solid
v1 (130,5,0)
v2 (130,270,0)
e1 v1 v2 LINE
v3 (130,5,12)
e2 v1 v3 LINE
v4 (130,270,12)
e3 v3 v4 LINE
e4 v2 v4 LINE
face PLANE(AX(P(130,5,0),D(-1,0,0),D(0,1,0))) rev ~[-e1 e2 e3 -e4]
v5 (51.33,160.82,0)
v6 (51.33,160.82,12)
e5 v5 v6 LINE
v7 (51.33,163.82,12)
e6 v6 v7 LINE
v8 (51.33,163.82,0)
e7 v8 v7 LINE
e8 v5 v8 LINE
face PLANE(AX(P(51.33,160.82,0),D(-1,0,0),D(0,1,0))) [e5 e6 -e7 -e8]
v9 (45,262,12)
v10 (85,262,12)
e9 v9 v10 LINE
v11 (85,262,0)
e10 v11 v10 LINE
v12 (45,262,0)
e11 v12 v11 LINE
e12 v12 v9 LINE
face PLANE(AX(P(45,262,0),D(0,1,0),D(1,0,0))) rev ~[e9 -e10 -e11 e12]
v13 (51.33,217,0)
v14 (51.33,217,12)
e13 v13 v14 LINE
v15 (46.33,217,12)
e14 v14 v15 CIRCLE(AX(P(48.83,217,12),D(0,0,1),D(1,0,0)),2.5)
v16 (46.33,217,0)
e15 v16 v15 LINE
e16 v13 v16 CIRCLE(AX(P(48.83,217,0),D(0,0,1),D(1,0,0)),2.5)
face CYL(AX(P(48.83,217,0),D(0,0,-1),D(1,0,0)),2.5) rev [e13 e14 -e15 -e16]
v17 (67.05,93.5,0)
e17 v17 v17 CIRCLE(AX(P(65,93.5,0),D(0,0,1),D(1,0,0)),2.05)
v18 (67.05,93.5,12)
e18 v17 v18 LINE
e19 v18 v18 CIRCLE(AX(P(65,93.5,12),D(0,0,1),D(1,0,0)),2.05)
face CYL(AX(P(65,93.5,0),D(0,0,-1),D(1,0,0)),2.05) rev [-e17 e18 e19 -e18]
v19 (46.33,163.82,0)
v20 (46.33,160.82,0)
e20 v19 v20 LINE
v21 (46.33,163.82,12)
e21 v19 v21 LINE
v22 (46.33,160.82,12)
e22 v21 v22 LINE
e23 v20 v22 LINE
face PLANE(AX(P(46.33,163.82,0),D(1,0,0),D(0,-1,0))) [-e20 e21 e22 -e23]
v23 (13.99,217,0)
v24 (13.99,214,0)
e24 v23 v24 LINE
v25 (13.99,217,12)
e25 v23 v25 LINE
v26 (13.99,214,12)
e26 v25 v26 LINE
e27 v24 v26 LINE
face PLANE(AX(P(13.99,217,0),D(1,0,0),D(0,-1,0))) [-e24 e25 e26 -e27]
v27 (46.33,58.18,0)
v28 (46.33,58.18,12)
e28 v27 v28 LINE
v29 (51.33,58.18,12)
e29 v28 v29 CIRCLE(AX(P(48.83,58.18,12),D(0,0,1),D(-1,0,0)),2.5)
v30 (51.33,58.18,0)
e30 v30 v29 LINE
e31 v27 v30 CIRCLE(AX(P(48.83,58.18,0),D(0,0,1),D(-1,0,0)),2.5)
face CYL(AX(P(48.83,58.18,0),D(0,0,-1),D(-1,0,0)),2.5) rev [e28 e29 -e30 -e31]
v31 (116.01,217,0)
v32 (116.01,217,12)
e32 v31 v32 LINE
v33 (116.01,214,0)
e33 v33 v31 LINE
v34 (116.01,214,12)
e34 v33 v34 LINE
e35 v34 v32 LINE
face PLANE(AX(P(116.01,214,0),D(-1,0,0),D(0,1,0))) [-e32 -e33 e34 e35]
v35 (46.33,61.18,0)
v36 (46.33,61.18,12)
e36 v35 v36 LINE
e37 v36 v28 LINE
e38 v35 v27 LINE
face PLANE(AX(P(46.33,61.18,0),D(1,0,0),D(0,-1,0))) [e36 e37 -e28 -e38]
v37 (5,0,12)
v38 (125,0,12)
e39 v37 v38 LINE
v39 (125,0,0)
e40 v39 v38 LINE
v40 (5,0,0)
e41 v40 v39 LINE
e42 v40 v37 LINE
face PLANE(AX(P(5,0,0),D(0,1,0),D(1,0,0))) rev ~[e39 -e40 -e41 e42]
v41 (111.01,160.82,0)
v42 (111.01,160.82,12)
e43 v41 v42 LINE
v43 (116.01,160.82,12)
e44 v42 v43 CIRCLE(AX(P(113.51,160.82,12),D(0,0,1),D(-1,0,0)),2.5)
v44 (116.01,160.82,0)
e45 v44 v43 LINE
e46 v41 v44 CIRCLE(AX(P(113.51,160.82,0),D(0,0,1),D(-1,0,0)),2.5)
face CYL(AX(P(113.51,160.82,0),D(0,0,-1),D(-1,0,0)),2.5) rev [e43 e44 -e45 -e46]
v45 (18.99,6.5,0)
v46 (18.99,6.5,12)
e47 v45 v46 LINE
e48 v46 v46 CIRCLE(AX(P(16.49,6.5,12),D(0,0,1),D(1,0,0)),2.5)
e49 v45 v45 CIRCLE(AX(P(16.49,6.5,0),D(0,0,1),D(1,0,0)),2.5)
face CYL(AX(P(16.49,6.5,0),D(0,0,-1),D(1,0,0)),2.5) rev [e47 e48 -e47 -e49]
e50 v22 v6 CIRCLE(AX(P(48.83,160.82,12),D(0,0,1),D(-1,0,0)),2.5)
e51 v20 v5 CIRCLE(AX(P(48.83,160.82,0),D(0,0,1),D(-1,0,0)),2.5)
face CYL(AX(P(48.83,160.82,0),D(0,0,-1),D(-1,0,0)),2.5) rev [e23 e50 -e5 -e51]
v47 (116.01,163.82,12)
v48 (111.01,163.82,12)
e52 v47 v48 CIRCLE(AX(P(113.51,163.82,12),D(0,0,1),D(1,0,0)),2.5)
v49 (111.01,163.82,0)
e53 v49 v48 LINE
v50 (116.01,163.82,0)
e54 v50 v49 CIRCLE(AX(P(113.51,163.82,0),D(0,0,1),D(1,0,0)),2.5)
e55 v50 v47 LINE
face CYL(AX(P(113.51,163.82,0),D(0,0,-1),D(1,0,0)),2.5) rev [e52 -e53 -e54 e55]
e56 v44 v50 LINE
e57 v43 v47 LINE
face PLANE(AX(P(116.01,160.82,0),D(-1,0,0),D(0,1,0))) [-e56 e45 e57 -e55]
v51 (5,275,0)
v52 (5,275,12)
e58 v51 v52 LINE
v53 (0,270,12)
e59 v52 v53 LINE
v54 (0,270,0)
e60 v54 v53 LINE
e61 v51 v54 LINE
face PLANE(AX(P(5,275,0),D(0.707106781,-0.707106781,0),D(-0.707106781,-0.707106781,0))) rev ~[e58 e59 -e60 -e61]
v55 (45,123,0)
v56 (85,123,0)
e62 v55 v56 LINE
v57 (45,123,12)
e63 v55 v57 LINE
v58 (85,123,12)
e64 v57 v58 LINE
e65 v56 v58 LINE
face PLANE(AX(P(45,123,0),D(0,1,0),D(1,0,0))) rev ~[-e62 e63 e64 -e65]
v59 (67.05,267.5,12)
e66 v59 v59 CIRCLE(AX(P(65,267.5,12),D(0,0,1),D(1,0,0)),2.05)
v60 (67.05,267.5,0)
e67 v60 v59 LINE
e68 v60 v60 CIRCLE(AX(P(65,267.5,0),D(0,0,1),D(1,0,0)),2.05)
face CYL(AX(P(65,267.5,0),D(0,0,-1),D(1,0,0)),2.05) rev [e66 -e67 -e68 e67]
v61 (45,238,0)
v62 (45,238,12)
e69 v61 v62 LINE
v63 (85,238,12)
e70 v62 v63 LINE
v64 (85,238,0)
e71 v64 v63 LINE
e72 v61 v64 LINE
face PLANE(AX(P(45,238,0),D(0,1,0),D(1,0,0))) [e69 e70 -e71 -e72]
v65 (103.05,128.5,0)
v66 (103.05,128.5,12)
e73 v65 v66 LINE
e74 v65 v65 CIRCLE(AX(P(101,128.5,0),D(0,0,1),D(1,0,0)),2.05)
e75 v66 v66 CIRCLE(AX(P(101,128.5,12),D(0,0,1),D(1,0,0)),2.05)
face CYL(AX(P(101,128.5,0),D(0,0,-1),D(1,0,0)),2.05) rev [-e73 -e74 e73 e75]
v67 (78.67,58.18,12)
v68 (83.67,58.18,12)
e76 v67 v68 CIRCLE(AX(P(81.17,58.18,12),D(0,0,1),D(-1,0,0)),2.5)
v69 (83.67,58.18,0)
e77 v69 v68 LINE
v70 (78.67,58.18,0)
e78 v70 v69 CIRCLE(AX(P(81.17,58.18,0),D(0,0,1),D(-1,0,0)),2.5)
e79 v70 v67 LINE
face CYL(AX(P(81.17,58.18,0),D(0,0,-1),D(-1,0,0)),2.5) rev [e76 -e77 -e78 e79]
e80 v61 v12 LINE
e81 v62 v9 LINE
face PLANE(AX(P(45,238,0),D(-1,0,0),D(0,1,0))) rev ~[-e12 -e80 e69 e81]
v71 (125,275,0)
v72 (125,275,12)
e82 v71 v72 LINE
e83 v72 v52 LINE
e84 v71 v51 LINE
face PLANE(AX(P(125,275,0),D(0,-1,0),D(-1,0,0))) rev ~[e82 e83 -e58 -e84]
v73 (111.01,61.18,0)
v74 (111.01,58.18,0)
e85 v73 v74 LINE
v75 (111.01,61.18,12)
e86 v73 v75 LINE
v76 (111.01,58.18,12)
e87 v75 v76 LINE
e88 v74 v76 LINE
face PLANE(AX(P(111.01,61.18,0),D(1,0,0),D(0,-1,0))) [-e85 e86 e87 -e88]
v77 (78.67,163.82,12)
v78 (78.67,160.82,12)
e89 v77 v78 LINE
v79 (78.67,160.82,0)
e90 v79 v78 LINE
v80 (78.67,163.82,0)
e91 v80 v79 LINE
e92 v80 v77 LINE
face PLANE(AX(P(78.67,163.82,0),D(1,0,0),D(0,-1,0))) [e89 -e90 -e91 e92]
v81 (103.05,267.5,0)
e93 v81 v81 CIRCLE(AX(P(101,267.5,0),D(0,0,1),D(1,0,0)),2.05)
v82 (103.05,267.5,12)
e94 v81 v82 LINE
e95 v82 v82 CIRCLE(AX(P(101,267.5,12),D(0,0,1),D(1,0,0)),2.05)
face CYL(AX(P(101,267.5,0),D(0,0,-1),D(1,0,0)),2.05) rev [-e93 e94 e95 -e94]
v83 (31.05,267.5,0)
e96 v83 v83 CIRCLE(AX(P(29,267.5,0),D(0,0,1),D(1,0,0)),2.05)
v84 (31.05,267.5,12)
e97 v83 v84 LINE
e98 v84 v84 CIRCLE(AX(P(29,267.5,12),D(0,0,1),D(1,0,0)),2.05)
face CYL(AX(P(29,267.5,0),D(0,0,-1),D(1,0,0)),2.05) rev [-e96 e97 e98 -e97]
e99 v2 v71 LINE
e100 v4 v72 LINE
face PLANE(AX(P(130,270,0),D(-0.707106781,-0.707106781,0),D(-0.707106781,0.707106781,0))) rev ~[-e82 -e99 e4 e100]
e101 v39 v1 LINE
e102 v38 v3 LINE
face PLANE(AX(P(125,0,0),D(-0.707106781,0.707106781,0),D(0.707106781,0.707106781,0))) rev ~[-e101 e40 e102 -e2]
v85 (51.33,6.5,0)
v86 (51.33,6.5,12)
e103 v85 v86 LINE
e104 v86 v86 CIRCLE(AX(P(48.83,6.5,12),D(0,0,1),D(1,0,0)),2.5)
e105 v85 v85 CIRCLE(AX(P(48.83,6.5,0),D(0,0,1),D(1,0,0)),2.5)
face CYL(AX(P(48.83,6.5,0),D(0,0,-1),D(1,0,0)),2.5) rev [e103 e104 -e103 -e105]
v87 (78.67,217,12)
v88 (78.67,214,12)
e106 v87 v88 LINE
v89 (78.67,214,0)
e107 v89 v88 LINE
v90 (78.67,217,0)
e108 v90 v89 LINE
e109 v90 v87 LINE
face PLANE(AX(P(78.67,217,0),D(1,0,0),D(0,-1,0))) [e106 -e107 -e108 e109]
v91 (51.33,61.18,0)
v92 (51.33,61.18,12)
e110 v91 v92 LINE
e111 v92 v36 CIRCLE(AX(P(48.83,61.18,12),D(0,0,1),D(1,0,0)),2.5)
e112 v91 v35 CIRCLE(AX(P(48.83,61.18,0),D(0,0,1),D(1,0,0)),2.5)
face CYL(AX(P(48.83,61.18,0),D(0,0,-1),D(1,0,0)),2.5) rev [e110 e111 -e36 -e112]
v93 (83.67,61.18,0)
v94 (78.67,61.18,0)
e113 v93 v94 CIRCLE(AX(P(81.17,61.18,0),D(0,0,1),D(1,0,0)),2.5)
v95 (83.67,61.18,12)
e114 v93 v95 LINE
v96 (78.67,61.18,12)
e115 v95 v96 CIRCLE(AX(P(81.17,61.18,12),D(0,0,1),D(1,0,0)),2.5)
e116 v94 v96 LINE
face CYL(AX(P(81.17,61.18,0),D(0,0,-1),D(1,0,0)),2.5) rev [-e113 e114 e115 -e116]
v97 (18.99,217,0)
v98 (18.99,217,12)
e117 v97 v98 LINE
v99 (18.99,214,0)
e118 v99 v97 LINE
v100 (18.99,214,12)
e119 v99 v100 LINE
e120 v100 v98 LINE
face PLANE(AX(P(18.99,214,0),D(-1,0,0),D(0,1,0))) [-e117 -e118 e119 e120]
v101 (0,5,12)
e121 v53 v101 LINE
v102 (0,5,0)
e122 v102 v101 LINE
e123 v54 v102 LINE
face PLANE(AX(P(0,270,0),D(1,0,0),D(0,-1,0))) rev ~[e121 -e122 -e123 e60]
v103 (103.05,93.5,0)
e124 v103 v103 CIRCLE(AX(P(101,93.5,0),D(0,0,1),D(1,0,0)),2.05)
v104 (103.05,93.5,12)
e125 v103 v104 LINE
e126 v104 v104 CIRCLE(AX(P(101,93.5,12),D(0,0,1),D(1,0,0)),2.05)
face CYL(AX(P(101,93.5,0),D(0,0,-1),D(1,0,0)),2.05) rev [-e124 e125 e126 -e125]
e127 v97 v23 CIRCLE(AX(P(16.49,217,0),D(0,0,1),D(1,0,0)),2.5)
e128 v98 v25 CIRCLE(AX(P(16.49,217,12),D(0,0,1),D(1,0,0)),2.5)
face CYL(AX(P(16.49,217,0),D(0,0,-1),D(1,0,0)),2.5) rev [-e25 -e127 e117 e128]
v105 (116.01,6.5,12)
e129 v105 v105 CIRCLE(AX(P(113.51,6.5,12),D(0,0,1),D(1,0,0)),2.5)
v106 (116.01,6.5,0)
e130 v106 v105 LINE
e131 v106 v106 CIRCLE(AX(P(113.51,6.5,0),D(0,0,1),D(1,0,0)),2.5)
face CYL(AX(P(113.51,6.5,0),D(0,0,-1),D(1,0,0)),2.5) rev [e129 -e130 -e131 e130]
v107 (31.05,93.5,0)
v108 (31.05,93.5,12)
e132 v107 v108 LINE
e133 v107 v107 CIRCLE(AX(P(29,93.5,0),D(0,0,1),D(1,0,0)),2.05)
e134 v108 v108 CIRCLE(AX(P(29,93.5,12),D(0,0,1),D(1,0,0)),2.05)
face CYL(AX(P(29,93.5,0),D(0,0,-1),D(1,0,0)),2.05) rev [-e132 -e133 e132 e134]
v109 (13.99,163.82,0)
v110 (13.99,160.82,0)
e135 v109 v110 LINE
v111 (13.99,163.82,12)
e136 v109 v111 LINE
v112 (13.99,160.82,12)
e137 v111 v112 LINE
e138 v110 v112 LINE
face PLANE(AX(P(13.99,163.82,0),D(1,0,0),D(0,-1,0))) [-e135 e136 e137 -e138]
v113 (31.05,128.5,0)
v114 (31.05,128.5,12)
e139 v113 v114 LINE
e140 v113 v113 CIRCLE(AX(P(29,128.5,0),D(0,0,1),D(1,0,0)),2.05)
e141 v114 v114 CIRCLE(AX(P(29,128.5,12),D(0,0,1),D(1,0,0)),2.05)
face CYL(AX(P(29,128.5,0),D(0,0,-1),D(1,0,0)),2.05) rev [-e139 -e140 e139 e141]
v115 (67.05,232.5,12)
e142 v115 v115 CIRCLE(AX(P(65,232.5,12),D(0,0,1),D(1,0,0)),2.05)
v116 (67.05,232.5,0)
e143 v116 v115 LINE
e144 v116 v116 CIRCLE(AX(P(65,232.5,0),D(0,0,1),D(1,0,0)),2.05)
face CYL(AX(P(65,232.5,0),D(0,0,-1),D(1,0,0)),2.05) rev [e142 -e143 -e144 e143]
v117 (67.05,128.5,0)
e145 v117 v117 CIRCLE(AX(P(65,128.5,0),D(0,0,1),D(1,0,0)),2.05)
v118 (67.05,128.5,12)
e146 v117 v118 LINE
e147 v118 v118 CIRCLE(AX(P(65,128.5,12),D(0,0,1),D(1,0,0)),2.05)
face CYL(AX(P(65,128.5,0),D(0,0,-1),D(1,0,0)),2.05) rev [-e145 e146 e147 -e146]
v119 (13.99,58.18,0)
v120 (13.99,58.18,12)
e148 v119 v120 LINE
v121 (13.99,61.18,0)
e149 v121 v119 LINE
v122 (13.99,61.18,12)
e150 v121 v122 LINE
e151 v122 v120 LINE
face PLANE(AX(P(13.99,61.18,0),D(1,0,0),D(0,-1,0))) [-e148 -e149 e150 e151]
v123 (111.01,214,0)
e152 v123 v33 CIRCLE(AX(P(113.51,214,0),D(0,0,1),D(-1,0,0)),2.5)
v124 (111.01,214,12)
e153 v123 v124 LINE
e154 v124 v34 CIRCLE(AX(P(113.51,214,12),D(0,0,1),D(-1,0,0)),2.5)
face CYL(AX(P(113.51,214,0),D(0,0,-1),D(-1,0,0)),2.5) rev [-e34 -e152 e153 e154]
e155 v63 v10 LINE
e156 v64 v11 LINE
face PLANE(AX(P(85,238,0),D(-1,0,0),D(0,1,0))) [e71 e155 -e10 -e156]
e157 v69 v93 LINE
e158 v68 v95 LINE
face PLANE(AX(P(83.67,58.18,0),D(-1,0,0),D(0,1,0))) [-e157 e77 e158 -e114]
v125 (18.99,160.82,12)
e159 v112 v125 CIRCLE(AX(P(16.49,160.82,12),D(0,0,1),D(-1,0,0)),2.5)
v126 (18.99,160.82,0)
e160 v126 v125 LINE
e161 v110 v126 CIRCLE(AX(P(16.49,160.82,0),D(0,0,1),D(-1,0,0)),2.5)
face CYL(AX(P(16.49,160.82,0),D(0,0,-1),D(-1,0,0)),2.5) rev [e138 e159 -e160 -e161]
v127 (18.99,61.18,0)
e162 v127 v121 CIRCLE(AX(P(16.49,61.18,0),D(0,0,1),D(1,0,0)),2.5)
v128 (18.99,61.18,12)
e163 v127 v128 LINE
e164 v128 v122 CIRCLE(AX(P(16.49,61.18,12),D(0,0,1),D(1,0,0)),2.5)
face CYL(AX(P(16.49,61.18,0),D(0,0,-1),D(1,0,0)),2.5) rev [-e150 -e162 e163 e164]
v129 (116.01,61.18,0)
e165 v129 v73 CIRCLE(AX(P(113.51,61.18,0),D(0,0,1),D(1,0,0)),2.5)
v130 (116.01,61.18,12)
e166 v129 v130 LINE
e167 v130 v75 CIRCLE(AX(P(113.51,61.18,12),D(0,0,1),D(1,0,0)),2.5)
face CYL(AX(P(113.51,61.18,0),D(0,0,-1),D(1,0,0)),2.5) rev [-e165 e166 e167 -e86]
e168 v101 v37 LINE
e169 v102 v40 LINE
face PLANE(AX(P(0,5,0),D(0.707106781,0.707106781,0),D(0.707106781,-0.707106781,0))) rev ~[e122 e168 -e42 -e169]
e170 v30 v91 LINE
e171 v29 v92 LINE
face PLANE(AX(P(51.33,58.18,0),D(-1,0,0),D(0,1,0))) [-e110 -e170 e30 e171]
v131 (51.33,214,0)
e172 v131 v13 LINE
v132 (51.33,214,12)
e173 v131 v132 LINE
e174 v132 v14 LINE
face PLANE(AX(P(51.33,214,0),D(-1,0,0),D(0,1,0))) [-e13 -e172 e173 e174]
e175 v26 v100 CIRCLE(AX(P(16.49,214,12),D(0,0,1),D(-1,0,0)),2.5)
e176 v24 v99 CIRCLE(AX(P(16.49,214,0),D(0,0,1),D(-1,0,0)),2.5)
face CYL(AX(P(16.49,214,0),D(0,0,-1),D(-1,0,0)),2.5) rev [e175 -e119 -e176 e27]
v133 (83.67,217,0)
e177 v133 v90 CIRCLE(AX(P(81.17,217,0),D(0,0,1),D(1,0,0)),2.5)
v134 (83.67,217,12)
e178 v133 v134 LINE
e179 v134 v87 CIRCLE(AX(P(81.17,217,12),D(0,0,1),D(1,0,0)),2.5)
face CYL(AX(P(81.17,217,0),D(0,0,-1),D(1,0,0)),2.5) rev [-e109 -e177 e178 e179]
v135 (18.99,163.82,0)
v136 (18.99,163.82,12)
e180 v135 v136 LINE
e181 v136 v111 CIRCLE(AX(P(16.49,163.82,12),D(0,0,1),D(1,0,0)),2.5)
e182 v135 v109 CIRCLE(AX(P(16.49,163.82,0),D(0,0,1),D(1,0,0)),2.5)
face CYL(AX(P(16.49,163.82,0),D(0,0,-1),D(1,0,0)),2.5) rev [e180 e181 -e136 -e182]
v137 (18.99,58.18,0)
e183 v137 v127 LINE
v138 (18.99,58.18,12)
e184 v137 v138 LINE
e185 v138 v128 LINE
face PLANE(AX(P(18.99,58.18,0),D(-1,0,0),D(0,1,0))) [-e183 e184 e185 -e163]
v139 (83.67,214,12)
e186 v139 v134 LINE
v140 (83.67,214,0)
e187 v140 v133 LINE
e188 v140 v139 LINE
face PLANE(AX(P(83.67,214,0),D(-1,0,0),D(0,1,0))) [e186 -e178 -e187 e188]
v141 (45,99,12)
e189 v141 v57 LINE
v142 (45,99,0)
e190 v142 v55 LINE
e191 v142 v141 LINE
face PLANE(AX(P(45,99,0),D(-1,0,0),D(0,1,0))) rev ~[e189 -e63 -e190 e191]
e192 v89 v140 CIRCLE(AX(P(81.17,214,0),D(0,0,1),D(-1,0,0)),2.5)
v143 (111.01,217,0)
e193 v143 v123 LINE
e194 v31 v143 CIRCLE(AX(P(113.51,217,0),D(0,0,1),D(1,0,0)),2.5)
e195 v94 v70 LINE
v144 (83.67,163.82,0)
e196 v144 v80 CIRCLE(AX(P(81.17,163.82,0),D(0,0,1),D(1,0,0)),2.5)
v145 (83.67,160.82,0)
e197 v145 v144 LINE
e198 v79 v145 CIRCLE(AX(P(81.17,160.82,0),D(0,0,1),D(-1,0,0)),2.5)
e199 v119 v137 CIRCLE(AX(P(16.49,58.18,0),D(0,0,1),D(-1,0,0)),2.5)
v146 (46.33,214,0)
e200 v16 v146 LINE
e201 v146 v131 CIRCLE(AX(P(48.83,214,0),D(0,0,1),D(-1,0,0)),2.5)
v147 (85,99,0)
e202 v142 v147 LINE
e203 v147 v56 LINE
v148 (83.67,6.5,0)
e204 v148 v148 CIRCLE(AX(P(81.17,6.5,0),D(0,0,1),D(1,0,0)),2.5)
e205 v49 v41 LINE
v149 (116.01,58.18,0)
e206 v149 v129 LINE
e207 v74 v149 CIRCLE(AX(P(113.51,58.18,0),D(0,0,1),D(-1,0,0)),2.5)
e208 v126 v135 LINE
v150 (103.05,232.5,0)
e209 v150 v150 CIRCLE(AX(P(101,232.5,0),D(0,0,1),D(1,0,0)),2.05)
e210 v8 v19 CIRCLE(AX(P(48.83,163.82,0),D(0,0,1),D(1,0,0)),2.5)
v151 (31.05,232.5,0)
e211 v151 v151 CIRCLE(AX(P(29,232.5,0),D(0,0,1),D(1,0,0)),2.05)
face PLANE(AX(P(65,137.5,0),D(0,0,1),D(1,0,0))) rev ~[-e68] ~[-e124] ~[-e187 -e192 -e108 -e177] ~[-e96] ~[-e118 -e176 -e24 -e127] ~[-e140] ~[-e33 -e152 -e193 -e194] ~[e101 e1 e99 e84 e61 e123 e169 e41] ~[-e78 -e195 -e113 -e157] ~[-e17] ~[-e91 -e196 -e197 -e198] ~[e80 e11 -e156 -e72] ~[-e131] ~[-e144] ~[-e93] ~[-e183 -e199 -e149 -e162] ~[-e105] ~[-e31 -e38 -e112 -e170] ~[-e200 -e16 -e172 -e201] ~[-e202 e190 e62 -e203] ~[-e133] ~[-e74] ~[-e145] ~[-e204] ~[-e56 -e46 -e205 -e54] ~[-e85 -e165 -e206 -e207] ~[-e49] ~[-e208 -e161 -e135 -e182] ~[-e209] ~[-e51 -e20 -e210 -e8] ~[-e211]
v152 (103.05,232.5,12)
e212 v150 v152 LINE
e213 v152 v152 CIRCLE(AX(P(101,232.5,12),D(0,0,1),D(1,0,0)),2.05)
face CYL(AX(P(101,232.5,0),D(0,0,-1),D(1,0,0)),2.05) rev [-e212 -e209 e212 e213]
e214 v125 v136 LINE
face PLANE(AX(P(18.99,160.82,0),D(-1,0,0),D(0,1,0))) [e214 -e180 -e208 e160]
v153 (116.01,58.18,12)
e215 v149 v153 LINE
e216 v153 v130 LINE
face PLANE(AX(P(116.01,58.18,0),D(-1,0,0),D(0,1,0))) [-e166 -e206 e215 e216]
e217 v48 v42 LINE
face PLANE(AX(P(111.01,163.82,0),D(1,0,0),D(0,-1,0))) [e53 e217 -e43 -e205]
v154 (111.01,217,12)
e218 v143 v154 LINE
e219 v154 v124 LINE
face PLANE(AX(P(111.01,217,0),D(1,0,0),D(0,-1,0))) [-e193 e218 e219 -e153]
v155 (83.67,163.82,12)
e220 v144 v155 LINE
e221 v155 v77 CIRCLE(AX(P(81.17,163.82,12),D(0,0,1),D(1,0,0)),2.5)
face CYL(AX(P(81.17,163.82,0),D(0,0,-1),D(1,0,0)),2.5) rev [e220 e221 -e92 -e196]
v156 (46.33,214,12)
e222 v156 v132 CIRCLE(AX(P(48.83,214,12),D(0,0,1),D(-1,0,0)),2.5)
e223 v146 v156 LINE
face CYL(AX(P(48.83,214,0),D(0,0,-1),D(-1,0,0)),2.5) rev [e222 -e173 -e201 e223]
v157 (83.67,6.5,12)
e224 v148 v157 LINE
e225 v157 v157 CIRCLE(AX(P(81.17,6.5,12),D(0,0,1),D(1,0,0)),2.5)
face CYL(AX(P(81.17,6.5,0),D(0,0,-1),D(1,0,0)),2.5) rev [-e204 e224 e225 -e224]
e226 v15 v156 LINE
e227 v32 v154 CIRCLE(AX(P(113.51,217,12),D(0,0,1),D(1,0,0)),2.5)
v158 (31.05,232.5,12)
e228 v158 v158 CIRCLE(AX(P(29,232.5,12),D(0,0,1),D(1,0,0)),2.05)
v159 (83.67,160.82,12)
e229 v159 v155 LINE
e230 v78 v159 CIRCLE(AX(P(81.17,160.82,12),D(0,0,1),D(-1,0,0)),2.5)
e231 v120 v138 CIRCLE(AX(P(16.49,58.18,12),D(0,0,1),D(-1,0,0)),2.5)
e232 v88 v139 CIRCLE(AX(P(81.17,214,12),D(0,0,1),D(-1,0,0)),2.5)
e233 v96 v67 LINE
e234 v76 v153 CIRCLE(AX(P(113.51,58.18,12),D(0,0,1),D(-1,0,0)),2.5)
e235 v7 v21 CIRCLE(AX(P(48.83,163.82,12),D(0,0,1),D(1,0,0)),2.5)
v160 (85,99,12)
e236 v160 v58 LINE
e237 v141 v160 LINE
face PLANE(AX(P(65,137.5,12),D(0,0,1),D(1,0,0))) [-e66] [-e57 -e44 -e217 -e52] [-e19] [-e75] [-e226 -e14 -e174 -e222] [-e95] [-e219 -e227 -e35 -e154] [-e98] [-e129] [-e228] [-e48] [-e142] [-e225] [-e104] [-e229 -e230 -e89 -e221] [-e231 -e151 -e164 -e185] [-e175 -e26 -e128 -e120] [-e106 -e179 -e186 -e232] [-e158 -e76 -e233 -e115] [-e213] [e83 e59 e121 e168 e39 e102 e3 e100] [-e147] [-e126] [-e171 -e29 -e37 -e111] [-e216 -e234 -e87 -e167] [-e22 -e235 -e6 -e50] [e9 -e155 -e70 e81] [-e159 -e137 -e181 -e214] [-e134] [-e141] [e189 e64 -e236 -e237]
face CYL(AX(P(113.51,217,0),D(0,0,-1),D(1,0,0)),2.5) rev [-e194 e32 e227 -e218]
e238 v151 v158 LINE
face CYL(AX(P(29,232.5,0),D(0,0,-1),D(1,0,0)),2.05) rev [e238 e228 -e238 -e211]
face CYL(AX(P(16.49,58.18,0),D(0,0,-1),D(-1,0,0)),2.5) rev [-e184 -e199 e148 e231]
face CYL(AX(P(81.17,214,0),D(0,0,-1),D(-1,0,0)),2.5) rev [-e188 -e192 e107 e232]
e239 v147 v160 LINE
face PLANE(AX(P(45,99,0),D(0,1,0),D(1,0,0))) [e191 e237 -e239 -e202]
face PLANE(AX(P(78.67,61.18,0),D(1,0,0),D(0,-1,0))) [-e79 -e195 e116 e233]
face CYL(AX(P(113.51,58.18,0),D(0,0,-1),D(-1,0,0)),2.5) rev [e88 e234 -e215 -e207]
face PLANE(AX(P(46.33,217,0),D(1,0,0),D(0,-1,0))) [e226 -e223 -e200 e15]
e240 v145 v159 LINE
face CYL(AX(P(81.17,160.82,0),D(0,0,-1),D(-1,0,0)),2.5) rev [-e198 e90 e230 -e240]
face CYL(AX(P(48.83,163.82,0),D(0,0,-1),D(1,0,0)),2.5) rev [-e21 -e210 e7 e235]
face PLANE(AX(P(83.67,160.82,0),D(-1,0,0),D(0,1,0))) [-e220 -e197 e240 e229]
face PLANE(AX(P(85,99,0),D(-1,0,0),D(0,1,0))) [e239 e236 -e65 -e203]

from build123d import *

# Parameters (mm, degrees)
MODEL_R             = 2.5
MODEL_R_2           = 2.05
MODEL_W             = 40
MODEL_H             = 24
BOSS_EXTRUDE1_DEPTH = 12


with BuildPart() as part:
    # Model → Boss-Extrude1 (new body)
    with BuildSketch(Plane.XY):
        Polygon((5, 275), (0, 270), (0, 5), (5, 0), (125, 0), (130, 5), (130, 270), (125, 275), align=None)
        with Locations((16.49, 6.5)):
            Circle(MODEL_R, mode=Mode.SUBTRACT)
        with Locations((48.83, 6.5)):
            Circle(MODEL_R, mode=Mode.SUBTRACT)
        with Locations((81.17, 6.5)):
            Circle(MODEL_R, mode=Mode.SUBTRACT)
        with Locations((113.51, 6.5)):
            Circle(MODEL_R, mode=Mode.SUBTRACT)
        with Locations((29, 128.5)):
            Circle(MODEL_R_2, mode=Mode.SUBTRACT)
        with Locations((65, 128.5)):
            Circle(MODEL_R_2, mode=Mode.SUBTRACT)
        with Locations((101, 128.5)):
            Circle(MODEL_R_2, mode=Mode.SUBTRACT)
        with Locations((101, 93.5)):
            Circle(MODEL_R_2, mode=Mode.SUBTRACT)
        with Locations((65, 93.5)):
            Circle(MODEL_R_2, mode=Mode.SUBTRACT)
        with Locations((29, 93.5)):
            Circle(MODEL_R_2, mode=Mode.SUBTRACT)
        with Locations((29, 267.5)):
            Circle(MODEL_R_2, mode=Mode.SUBTRACT)
        with Locations((65, 267.5)):
            Circle(MODEL_R_2, mode=Mode.SUBTRACT)
        with Locations((101, 267.5)):
            Circle(MODEL_R_2, mode=Mode.SUBTRACT)
        with Locations((101, 232.5)):
            Circle(MODEL_R_2, mode=Mode.SUBTRACT)
        with Locations((65, 232.5)):
            Circle(MODEL_R_2, mode=Mode.SUBTRACT)
        with Locations((29, 232.5)):
            Circle(MODEL_R_2, mode=Mode.SUBTRACT)
        with Locations((65, 111)):
            Rectangle(MODEL_W, MODEL_H, mode=Mode.SUBTRACT)
        with BuildLine():
            Line((13.99, 163.82), (13.99, 160.82))
            ThreePointArc((13.99, 160.82), (16.49, 158.32), (18.99, 160.82))
            Line((18.99, 160.82), (18.99, 163.82))
            ThreePointArc((18.99, 163.82), (16.49, 166.32), (13.99, 163.82))
        make_face(mode=Mode.SUBTRACT)
        with BuildLine():
            Line((46.33, 163.82), (46.33, 160.82))
            ThreePointArc((46.33, 160.82), (48.83, 158.32), (51.33, 160.82))
            Line((51.33, 160.82), (51.33, 163.82))
            ThreePointArc((51.33, 163.82), (48.83, 166.32), (46.33, 163.82))
        make_face(mode=Mode.SUBTRACT)
        with BuildLine():
            Line((78.67, 163.82), (78.67, 160.82))
            ThreePointArc((78.67, 160.82), (81.17, 158.32), (83.67, 160.82))
            Line((83.67, 160.82), (83.67, 163.82))
            ThreePointArc((83.67, 163.82), (81.17, 166.32), (78.67, 163.82))
        make_face(mode=Mode.SUBTRACT)
        with BuildLine():
            Line((111.01, 163.82), (111.01, 160.82))
            ThreePointArc((111.01, 160.82), (113.51, 158.32), (116.01, 160.82))
            Line((116.01, 160.82), (116.01, 163.82))
            ThreePointArc((116.01, 163.82), (113.51, 166.32), (111.01, 163.82))
        make_face(mode=Mode.SUBTRACT)
        with BuildLine():
            Line((13.99, 217), (13.99, 214))
            ThreePointArc((13.99, 214), (16.49, 211.5), (18.99, 214))
            Line((18.99, 214), (18.99, 217))
            ThreePointArc((18.99, 217), (16.49, 219.5), (13.99, 217))
        make_face(mode=Mode.SUBTRACT)
        with BuildLine():
            Line((51.33, 214), (51.33, 217))
            ThreePointArc((51.33, 217), (48.83, 219.5), (46.33, 217))
            Line((46.33, 217), (46.33, 214))
            ThreePointArc((46.33, 214), (48.83, 211.5), (51.33, 214))
        make_face(mode=Mode.SUBTRACT)
        with BuildLine():
            Line((83.67, 214), (83.67, 217))
            ThreePointArc((83.67, 217), (81.17, 219.5), (78.67, 217))
            Line((78.67, 217), (78.67, 214))
            ThreePointArc((78.67, 214), (81.17, 211.5), (83.67, 214))
        make_face(mode=Mode.SUBTRACT)
        with BuildLine():
            Line((116.01, 214), (116.01, 217))
            ThreePointArc((116.01, 217), (113.51, 219.5), (111.01, 217))
            Line((111.01, 217), (111.01, 214))
            ThreePointArc((111.01, 214), (113.51, 211.5), (116.01, 214))
        make_face(mode=Mode.SUBTRACT)
        with BuildLine():
            Line((18.99, 58.18), (18.99, 61.18))
            ThreePointArc((18.99, 61.18), (16.49, 63.68), (13.99, 61.18))
            Line((13.99, 61.18), (13.99, 58.18))
            ThreePointArc((13.99, 58.18), (16.49, 55.68), (18.99, 58.18))
        make_face(mode=Mode.SUBTRACT)
        with BuildLine():
            Line((51.33, 58.18), (51.33, 61.18))
            ThreePointArc((51.33, 61.18), (48.83, 63.68), (46.33, 61.18))
            Line((46.33, 61.18), (46.33, 58.18))
            ThreePointArc((46.33, 58.18), (48.83, 55.68), (51.33, 58.18))
        make_face(mode=Mode.SUBTRACT)
        with BuildLine():
            Line((83.67, 58.18), (83.67, 61.18))
            ThreePointArc((83.67, 61.18), (81.17, 63.68), (78.67, 61.18))
            Line((78.67, 61.18), (78.67, 58.18))
            ThreePointArc((78.67, 58.18), (81.17, 55.68), (83.67, 58.18))
        make_face(mode=Mode.SUBTRACT)
        with BuildLine():
            Line((116.01, 58.18), (116.01, 61.18))
            ThreePointArc((116.01, 61.18), (113.51, 63.68), (111.01, 61.18))
            Line((111.01, 61.18), (111.01, 58.18))
            ThreePointArc((111.01, 58.18), (113.51, 55.68), (116.01, 58.18))
        make_face(mode=Mode.SUBTRACT)
        with Locations((65, 250)):
            Rectangle(MODEL_W, MODEL_H, mode=Mode.SUBTRACT)
    extrude(amount=BOSS_EXTRUDE1_DEPTH)


solid = part.part
